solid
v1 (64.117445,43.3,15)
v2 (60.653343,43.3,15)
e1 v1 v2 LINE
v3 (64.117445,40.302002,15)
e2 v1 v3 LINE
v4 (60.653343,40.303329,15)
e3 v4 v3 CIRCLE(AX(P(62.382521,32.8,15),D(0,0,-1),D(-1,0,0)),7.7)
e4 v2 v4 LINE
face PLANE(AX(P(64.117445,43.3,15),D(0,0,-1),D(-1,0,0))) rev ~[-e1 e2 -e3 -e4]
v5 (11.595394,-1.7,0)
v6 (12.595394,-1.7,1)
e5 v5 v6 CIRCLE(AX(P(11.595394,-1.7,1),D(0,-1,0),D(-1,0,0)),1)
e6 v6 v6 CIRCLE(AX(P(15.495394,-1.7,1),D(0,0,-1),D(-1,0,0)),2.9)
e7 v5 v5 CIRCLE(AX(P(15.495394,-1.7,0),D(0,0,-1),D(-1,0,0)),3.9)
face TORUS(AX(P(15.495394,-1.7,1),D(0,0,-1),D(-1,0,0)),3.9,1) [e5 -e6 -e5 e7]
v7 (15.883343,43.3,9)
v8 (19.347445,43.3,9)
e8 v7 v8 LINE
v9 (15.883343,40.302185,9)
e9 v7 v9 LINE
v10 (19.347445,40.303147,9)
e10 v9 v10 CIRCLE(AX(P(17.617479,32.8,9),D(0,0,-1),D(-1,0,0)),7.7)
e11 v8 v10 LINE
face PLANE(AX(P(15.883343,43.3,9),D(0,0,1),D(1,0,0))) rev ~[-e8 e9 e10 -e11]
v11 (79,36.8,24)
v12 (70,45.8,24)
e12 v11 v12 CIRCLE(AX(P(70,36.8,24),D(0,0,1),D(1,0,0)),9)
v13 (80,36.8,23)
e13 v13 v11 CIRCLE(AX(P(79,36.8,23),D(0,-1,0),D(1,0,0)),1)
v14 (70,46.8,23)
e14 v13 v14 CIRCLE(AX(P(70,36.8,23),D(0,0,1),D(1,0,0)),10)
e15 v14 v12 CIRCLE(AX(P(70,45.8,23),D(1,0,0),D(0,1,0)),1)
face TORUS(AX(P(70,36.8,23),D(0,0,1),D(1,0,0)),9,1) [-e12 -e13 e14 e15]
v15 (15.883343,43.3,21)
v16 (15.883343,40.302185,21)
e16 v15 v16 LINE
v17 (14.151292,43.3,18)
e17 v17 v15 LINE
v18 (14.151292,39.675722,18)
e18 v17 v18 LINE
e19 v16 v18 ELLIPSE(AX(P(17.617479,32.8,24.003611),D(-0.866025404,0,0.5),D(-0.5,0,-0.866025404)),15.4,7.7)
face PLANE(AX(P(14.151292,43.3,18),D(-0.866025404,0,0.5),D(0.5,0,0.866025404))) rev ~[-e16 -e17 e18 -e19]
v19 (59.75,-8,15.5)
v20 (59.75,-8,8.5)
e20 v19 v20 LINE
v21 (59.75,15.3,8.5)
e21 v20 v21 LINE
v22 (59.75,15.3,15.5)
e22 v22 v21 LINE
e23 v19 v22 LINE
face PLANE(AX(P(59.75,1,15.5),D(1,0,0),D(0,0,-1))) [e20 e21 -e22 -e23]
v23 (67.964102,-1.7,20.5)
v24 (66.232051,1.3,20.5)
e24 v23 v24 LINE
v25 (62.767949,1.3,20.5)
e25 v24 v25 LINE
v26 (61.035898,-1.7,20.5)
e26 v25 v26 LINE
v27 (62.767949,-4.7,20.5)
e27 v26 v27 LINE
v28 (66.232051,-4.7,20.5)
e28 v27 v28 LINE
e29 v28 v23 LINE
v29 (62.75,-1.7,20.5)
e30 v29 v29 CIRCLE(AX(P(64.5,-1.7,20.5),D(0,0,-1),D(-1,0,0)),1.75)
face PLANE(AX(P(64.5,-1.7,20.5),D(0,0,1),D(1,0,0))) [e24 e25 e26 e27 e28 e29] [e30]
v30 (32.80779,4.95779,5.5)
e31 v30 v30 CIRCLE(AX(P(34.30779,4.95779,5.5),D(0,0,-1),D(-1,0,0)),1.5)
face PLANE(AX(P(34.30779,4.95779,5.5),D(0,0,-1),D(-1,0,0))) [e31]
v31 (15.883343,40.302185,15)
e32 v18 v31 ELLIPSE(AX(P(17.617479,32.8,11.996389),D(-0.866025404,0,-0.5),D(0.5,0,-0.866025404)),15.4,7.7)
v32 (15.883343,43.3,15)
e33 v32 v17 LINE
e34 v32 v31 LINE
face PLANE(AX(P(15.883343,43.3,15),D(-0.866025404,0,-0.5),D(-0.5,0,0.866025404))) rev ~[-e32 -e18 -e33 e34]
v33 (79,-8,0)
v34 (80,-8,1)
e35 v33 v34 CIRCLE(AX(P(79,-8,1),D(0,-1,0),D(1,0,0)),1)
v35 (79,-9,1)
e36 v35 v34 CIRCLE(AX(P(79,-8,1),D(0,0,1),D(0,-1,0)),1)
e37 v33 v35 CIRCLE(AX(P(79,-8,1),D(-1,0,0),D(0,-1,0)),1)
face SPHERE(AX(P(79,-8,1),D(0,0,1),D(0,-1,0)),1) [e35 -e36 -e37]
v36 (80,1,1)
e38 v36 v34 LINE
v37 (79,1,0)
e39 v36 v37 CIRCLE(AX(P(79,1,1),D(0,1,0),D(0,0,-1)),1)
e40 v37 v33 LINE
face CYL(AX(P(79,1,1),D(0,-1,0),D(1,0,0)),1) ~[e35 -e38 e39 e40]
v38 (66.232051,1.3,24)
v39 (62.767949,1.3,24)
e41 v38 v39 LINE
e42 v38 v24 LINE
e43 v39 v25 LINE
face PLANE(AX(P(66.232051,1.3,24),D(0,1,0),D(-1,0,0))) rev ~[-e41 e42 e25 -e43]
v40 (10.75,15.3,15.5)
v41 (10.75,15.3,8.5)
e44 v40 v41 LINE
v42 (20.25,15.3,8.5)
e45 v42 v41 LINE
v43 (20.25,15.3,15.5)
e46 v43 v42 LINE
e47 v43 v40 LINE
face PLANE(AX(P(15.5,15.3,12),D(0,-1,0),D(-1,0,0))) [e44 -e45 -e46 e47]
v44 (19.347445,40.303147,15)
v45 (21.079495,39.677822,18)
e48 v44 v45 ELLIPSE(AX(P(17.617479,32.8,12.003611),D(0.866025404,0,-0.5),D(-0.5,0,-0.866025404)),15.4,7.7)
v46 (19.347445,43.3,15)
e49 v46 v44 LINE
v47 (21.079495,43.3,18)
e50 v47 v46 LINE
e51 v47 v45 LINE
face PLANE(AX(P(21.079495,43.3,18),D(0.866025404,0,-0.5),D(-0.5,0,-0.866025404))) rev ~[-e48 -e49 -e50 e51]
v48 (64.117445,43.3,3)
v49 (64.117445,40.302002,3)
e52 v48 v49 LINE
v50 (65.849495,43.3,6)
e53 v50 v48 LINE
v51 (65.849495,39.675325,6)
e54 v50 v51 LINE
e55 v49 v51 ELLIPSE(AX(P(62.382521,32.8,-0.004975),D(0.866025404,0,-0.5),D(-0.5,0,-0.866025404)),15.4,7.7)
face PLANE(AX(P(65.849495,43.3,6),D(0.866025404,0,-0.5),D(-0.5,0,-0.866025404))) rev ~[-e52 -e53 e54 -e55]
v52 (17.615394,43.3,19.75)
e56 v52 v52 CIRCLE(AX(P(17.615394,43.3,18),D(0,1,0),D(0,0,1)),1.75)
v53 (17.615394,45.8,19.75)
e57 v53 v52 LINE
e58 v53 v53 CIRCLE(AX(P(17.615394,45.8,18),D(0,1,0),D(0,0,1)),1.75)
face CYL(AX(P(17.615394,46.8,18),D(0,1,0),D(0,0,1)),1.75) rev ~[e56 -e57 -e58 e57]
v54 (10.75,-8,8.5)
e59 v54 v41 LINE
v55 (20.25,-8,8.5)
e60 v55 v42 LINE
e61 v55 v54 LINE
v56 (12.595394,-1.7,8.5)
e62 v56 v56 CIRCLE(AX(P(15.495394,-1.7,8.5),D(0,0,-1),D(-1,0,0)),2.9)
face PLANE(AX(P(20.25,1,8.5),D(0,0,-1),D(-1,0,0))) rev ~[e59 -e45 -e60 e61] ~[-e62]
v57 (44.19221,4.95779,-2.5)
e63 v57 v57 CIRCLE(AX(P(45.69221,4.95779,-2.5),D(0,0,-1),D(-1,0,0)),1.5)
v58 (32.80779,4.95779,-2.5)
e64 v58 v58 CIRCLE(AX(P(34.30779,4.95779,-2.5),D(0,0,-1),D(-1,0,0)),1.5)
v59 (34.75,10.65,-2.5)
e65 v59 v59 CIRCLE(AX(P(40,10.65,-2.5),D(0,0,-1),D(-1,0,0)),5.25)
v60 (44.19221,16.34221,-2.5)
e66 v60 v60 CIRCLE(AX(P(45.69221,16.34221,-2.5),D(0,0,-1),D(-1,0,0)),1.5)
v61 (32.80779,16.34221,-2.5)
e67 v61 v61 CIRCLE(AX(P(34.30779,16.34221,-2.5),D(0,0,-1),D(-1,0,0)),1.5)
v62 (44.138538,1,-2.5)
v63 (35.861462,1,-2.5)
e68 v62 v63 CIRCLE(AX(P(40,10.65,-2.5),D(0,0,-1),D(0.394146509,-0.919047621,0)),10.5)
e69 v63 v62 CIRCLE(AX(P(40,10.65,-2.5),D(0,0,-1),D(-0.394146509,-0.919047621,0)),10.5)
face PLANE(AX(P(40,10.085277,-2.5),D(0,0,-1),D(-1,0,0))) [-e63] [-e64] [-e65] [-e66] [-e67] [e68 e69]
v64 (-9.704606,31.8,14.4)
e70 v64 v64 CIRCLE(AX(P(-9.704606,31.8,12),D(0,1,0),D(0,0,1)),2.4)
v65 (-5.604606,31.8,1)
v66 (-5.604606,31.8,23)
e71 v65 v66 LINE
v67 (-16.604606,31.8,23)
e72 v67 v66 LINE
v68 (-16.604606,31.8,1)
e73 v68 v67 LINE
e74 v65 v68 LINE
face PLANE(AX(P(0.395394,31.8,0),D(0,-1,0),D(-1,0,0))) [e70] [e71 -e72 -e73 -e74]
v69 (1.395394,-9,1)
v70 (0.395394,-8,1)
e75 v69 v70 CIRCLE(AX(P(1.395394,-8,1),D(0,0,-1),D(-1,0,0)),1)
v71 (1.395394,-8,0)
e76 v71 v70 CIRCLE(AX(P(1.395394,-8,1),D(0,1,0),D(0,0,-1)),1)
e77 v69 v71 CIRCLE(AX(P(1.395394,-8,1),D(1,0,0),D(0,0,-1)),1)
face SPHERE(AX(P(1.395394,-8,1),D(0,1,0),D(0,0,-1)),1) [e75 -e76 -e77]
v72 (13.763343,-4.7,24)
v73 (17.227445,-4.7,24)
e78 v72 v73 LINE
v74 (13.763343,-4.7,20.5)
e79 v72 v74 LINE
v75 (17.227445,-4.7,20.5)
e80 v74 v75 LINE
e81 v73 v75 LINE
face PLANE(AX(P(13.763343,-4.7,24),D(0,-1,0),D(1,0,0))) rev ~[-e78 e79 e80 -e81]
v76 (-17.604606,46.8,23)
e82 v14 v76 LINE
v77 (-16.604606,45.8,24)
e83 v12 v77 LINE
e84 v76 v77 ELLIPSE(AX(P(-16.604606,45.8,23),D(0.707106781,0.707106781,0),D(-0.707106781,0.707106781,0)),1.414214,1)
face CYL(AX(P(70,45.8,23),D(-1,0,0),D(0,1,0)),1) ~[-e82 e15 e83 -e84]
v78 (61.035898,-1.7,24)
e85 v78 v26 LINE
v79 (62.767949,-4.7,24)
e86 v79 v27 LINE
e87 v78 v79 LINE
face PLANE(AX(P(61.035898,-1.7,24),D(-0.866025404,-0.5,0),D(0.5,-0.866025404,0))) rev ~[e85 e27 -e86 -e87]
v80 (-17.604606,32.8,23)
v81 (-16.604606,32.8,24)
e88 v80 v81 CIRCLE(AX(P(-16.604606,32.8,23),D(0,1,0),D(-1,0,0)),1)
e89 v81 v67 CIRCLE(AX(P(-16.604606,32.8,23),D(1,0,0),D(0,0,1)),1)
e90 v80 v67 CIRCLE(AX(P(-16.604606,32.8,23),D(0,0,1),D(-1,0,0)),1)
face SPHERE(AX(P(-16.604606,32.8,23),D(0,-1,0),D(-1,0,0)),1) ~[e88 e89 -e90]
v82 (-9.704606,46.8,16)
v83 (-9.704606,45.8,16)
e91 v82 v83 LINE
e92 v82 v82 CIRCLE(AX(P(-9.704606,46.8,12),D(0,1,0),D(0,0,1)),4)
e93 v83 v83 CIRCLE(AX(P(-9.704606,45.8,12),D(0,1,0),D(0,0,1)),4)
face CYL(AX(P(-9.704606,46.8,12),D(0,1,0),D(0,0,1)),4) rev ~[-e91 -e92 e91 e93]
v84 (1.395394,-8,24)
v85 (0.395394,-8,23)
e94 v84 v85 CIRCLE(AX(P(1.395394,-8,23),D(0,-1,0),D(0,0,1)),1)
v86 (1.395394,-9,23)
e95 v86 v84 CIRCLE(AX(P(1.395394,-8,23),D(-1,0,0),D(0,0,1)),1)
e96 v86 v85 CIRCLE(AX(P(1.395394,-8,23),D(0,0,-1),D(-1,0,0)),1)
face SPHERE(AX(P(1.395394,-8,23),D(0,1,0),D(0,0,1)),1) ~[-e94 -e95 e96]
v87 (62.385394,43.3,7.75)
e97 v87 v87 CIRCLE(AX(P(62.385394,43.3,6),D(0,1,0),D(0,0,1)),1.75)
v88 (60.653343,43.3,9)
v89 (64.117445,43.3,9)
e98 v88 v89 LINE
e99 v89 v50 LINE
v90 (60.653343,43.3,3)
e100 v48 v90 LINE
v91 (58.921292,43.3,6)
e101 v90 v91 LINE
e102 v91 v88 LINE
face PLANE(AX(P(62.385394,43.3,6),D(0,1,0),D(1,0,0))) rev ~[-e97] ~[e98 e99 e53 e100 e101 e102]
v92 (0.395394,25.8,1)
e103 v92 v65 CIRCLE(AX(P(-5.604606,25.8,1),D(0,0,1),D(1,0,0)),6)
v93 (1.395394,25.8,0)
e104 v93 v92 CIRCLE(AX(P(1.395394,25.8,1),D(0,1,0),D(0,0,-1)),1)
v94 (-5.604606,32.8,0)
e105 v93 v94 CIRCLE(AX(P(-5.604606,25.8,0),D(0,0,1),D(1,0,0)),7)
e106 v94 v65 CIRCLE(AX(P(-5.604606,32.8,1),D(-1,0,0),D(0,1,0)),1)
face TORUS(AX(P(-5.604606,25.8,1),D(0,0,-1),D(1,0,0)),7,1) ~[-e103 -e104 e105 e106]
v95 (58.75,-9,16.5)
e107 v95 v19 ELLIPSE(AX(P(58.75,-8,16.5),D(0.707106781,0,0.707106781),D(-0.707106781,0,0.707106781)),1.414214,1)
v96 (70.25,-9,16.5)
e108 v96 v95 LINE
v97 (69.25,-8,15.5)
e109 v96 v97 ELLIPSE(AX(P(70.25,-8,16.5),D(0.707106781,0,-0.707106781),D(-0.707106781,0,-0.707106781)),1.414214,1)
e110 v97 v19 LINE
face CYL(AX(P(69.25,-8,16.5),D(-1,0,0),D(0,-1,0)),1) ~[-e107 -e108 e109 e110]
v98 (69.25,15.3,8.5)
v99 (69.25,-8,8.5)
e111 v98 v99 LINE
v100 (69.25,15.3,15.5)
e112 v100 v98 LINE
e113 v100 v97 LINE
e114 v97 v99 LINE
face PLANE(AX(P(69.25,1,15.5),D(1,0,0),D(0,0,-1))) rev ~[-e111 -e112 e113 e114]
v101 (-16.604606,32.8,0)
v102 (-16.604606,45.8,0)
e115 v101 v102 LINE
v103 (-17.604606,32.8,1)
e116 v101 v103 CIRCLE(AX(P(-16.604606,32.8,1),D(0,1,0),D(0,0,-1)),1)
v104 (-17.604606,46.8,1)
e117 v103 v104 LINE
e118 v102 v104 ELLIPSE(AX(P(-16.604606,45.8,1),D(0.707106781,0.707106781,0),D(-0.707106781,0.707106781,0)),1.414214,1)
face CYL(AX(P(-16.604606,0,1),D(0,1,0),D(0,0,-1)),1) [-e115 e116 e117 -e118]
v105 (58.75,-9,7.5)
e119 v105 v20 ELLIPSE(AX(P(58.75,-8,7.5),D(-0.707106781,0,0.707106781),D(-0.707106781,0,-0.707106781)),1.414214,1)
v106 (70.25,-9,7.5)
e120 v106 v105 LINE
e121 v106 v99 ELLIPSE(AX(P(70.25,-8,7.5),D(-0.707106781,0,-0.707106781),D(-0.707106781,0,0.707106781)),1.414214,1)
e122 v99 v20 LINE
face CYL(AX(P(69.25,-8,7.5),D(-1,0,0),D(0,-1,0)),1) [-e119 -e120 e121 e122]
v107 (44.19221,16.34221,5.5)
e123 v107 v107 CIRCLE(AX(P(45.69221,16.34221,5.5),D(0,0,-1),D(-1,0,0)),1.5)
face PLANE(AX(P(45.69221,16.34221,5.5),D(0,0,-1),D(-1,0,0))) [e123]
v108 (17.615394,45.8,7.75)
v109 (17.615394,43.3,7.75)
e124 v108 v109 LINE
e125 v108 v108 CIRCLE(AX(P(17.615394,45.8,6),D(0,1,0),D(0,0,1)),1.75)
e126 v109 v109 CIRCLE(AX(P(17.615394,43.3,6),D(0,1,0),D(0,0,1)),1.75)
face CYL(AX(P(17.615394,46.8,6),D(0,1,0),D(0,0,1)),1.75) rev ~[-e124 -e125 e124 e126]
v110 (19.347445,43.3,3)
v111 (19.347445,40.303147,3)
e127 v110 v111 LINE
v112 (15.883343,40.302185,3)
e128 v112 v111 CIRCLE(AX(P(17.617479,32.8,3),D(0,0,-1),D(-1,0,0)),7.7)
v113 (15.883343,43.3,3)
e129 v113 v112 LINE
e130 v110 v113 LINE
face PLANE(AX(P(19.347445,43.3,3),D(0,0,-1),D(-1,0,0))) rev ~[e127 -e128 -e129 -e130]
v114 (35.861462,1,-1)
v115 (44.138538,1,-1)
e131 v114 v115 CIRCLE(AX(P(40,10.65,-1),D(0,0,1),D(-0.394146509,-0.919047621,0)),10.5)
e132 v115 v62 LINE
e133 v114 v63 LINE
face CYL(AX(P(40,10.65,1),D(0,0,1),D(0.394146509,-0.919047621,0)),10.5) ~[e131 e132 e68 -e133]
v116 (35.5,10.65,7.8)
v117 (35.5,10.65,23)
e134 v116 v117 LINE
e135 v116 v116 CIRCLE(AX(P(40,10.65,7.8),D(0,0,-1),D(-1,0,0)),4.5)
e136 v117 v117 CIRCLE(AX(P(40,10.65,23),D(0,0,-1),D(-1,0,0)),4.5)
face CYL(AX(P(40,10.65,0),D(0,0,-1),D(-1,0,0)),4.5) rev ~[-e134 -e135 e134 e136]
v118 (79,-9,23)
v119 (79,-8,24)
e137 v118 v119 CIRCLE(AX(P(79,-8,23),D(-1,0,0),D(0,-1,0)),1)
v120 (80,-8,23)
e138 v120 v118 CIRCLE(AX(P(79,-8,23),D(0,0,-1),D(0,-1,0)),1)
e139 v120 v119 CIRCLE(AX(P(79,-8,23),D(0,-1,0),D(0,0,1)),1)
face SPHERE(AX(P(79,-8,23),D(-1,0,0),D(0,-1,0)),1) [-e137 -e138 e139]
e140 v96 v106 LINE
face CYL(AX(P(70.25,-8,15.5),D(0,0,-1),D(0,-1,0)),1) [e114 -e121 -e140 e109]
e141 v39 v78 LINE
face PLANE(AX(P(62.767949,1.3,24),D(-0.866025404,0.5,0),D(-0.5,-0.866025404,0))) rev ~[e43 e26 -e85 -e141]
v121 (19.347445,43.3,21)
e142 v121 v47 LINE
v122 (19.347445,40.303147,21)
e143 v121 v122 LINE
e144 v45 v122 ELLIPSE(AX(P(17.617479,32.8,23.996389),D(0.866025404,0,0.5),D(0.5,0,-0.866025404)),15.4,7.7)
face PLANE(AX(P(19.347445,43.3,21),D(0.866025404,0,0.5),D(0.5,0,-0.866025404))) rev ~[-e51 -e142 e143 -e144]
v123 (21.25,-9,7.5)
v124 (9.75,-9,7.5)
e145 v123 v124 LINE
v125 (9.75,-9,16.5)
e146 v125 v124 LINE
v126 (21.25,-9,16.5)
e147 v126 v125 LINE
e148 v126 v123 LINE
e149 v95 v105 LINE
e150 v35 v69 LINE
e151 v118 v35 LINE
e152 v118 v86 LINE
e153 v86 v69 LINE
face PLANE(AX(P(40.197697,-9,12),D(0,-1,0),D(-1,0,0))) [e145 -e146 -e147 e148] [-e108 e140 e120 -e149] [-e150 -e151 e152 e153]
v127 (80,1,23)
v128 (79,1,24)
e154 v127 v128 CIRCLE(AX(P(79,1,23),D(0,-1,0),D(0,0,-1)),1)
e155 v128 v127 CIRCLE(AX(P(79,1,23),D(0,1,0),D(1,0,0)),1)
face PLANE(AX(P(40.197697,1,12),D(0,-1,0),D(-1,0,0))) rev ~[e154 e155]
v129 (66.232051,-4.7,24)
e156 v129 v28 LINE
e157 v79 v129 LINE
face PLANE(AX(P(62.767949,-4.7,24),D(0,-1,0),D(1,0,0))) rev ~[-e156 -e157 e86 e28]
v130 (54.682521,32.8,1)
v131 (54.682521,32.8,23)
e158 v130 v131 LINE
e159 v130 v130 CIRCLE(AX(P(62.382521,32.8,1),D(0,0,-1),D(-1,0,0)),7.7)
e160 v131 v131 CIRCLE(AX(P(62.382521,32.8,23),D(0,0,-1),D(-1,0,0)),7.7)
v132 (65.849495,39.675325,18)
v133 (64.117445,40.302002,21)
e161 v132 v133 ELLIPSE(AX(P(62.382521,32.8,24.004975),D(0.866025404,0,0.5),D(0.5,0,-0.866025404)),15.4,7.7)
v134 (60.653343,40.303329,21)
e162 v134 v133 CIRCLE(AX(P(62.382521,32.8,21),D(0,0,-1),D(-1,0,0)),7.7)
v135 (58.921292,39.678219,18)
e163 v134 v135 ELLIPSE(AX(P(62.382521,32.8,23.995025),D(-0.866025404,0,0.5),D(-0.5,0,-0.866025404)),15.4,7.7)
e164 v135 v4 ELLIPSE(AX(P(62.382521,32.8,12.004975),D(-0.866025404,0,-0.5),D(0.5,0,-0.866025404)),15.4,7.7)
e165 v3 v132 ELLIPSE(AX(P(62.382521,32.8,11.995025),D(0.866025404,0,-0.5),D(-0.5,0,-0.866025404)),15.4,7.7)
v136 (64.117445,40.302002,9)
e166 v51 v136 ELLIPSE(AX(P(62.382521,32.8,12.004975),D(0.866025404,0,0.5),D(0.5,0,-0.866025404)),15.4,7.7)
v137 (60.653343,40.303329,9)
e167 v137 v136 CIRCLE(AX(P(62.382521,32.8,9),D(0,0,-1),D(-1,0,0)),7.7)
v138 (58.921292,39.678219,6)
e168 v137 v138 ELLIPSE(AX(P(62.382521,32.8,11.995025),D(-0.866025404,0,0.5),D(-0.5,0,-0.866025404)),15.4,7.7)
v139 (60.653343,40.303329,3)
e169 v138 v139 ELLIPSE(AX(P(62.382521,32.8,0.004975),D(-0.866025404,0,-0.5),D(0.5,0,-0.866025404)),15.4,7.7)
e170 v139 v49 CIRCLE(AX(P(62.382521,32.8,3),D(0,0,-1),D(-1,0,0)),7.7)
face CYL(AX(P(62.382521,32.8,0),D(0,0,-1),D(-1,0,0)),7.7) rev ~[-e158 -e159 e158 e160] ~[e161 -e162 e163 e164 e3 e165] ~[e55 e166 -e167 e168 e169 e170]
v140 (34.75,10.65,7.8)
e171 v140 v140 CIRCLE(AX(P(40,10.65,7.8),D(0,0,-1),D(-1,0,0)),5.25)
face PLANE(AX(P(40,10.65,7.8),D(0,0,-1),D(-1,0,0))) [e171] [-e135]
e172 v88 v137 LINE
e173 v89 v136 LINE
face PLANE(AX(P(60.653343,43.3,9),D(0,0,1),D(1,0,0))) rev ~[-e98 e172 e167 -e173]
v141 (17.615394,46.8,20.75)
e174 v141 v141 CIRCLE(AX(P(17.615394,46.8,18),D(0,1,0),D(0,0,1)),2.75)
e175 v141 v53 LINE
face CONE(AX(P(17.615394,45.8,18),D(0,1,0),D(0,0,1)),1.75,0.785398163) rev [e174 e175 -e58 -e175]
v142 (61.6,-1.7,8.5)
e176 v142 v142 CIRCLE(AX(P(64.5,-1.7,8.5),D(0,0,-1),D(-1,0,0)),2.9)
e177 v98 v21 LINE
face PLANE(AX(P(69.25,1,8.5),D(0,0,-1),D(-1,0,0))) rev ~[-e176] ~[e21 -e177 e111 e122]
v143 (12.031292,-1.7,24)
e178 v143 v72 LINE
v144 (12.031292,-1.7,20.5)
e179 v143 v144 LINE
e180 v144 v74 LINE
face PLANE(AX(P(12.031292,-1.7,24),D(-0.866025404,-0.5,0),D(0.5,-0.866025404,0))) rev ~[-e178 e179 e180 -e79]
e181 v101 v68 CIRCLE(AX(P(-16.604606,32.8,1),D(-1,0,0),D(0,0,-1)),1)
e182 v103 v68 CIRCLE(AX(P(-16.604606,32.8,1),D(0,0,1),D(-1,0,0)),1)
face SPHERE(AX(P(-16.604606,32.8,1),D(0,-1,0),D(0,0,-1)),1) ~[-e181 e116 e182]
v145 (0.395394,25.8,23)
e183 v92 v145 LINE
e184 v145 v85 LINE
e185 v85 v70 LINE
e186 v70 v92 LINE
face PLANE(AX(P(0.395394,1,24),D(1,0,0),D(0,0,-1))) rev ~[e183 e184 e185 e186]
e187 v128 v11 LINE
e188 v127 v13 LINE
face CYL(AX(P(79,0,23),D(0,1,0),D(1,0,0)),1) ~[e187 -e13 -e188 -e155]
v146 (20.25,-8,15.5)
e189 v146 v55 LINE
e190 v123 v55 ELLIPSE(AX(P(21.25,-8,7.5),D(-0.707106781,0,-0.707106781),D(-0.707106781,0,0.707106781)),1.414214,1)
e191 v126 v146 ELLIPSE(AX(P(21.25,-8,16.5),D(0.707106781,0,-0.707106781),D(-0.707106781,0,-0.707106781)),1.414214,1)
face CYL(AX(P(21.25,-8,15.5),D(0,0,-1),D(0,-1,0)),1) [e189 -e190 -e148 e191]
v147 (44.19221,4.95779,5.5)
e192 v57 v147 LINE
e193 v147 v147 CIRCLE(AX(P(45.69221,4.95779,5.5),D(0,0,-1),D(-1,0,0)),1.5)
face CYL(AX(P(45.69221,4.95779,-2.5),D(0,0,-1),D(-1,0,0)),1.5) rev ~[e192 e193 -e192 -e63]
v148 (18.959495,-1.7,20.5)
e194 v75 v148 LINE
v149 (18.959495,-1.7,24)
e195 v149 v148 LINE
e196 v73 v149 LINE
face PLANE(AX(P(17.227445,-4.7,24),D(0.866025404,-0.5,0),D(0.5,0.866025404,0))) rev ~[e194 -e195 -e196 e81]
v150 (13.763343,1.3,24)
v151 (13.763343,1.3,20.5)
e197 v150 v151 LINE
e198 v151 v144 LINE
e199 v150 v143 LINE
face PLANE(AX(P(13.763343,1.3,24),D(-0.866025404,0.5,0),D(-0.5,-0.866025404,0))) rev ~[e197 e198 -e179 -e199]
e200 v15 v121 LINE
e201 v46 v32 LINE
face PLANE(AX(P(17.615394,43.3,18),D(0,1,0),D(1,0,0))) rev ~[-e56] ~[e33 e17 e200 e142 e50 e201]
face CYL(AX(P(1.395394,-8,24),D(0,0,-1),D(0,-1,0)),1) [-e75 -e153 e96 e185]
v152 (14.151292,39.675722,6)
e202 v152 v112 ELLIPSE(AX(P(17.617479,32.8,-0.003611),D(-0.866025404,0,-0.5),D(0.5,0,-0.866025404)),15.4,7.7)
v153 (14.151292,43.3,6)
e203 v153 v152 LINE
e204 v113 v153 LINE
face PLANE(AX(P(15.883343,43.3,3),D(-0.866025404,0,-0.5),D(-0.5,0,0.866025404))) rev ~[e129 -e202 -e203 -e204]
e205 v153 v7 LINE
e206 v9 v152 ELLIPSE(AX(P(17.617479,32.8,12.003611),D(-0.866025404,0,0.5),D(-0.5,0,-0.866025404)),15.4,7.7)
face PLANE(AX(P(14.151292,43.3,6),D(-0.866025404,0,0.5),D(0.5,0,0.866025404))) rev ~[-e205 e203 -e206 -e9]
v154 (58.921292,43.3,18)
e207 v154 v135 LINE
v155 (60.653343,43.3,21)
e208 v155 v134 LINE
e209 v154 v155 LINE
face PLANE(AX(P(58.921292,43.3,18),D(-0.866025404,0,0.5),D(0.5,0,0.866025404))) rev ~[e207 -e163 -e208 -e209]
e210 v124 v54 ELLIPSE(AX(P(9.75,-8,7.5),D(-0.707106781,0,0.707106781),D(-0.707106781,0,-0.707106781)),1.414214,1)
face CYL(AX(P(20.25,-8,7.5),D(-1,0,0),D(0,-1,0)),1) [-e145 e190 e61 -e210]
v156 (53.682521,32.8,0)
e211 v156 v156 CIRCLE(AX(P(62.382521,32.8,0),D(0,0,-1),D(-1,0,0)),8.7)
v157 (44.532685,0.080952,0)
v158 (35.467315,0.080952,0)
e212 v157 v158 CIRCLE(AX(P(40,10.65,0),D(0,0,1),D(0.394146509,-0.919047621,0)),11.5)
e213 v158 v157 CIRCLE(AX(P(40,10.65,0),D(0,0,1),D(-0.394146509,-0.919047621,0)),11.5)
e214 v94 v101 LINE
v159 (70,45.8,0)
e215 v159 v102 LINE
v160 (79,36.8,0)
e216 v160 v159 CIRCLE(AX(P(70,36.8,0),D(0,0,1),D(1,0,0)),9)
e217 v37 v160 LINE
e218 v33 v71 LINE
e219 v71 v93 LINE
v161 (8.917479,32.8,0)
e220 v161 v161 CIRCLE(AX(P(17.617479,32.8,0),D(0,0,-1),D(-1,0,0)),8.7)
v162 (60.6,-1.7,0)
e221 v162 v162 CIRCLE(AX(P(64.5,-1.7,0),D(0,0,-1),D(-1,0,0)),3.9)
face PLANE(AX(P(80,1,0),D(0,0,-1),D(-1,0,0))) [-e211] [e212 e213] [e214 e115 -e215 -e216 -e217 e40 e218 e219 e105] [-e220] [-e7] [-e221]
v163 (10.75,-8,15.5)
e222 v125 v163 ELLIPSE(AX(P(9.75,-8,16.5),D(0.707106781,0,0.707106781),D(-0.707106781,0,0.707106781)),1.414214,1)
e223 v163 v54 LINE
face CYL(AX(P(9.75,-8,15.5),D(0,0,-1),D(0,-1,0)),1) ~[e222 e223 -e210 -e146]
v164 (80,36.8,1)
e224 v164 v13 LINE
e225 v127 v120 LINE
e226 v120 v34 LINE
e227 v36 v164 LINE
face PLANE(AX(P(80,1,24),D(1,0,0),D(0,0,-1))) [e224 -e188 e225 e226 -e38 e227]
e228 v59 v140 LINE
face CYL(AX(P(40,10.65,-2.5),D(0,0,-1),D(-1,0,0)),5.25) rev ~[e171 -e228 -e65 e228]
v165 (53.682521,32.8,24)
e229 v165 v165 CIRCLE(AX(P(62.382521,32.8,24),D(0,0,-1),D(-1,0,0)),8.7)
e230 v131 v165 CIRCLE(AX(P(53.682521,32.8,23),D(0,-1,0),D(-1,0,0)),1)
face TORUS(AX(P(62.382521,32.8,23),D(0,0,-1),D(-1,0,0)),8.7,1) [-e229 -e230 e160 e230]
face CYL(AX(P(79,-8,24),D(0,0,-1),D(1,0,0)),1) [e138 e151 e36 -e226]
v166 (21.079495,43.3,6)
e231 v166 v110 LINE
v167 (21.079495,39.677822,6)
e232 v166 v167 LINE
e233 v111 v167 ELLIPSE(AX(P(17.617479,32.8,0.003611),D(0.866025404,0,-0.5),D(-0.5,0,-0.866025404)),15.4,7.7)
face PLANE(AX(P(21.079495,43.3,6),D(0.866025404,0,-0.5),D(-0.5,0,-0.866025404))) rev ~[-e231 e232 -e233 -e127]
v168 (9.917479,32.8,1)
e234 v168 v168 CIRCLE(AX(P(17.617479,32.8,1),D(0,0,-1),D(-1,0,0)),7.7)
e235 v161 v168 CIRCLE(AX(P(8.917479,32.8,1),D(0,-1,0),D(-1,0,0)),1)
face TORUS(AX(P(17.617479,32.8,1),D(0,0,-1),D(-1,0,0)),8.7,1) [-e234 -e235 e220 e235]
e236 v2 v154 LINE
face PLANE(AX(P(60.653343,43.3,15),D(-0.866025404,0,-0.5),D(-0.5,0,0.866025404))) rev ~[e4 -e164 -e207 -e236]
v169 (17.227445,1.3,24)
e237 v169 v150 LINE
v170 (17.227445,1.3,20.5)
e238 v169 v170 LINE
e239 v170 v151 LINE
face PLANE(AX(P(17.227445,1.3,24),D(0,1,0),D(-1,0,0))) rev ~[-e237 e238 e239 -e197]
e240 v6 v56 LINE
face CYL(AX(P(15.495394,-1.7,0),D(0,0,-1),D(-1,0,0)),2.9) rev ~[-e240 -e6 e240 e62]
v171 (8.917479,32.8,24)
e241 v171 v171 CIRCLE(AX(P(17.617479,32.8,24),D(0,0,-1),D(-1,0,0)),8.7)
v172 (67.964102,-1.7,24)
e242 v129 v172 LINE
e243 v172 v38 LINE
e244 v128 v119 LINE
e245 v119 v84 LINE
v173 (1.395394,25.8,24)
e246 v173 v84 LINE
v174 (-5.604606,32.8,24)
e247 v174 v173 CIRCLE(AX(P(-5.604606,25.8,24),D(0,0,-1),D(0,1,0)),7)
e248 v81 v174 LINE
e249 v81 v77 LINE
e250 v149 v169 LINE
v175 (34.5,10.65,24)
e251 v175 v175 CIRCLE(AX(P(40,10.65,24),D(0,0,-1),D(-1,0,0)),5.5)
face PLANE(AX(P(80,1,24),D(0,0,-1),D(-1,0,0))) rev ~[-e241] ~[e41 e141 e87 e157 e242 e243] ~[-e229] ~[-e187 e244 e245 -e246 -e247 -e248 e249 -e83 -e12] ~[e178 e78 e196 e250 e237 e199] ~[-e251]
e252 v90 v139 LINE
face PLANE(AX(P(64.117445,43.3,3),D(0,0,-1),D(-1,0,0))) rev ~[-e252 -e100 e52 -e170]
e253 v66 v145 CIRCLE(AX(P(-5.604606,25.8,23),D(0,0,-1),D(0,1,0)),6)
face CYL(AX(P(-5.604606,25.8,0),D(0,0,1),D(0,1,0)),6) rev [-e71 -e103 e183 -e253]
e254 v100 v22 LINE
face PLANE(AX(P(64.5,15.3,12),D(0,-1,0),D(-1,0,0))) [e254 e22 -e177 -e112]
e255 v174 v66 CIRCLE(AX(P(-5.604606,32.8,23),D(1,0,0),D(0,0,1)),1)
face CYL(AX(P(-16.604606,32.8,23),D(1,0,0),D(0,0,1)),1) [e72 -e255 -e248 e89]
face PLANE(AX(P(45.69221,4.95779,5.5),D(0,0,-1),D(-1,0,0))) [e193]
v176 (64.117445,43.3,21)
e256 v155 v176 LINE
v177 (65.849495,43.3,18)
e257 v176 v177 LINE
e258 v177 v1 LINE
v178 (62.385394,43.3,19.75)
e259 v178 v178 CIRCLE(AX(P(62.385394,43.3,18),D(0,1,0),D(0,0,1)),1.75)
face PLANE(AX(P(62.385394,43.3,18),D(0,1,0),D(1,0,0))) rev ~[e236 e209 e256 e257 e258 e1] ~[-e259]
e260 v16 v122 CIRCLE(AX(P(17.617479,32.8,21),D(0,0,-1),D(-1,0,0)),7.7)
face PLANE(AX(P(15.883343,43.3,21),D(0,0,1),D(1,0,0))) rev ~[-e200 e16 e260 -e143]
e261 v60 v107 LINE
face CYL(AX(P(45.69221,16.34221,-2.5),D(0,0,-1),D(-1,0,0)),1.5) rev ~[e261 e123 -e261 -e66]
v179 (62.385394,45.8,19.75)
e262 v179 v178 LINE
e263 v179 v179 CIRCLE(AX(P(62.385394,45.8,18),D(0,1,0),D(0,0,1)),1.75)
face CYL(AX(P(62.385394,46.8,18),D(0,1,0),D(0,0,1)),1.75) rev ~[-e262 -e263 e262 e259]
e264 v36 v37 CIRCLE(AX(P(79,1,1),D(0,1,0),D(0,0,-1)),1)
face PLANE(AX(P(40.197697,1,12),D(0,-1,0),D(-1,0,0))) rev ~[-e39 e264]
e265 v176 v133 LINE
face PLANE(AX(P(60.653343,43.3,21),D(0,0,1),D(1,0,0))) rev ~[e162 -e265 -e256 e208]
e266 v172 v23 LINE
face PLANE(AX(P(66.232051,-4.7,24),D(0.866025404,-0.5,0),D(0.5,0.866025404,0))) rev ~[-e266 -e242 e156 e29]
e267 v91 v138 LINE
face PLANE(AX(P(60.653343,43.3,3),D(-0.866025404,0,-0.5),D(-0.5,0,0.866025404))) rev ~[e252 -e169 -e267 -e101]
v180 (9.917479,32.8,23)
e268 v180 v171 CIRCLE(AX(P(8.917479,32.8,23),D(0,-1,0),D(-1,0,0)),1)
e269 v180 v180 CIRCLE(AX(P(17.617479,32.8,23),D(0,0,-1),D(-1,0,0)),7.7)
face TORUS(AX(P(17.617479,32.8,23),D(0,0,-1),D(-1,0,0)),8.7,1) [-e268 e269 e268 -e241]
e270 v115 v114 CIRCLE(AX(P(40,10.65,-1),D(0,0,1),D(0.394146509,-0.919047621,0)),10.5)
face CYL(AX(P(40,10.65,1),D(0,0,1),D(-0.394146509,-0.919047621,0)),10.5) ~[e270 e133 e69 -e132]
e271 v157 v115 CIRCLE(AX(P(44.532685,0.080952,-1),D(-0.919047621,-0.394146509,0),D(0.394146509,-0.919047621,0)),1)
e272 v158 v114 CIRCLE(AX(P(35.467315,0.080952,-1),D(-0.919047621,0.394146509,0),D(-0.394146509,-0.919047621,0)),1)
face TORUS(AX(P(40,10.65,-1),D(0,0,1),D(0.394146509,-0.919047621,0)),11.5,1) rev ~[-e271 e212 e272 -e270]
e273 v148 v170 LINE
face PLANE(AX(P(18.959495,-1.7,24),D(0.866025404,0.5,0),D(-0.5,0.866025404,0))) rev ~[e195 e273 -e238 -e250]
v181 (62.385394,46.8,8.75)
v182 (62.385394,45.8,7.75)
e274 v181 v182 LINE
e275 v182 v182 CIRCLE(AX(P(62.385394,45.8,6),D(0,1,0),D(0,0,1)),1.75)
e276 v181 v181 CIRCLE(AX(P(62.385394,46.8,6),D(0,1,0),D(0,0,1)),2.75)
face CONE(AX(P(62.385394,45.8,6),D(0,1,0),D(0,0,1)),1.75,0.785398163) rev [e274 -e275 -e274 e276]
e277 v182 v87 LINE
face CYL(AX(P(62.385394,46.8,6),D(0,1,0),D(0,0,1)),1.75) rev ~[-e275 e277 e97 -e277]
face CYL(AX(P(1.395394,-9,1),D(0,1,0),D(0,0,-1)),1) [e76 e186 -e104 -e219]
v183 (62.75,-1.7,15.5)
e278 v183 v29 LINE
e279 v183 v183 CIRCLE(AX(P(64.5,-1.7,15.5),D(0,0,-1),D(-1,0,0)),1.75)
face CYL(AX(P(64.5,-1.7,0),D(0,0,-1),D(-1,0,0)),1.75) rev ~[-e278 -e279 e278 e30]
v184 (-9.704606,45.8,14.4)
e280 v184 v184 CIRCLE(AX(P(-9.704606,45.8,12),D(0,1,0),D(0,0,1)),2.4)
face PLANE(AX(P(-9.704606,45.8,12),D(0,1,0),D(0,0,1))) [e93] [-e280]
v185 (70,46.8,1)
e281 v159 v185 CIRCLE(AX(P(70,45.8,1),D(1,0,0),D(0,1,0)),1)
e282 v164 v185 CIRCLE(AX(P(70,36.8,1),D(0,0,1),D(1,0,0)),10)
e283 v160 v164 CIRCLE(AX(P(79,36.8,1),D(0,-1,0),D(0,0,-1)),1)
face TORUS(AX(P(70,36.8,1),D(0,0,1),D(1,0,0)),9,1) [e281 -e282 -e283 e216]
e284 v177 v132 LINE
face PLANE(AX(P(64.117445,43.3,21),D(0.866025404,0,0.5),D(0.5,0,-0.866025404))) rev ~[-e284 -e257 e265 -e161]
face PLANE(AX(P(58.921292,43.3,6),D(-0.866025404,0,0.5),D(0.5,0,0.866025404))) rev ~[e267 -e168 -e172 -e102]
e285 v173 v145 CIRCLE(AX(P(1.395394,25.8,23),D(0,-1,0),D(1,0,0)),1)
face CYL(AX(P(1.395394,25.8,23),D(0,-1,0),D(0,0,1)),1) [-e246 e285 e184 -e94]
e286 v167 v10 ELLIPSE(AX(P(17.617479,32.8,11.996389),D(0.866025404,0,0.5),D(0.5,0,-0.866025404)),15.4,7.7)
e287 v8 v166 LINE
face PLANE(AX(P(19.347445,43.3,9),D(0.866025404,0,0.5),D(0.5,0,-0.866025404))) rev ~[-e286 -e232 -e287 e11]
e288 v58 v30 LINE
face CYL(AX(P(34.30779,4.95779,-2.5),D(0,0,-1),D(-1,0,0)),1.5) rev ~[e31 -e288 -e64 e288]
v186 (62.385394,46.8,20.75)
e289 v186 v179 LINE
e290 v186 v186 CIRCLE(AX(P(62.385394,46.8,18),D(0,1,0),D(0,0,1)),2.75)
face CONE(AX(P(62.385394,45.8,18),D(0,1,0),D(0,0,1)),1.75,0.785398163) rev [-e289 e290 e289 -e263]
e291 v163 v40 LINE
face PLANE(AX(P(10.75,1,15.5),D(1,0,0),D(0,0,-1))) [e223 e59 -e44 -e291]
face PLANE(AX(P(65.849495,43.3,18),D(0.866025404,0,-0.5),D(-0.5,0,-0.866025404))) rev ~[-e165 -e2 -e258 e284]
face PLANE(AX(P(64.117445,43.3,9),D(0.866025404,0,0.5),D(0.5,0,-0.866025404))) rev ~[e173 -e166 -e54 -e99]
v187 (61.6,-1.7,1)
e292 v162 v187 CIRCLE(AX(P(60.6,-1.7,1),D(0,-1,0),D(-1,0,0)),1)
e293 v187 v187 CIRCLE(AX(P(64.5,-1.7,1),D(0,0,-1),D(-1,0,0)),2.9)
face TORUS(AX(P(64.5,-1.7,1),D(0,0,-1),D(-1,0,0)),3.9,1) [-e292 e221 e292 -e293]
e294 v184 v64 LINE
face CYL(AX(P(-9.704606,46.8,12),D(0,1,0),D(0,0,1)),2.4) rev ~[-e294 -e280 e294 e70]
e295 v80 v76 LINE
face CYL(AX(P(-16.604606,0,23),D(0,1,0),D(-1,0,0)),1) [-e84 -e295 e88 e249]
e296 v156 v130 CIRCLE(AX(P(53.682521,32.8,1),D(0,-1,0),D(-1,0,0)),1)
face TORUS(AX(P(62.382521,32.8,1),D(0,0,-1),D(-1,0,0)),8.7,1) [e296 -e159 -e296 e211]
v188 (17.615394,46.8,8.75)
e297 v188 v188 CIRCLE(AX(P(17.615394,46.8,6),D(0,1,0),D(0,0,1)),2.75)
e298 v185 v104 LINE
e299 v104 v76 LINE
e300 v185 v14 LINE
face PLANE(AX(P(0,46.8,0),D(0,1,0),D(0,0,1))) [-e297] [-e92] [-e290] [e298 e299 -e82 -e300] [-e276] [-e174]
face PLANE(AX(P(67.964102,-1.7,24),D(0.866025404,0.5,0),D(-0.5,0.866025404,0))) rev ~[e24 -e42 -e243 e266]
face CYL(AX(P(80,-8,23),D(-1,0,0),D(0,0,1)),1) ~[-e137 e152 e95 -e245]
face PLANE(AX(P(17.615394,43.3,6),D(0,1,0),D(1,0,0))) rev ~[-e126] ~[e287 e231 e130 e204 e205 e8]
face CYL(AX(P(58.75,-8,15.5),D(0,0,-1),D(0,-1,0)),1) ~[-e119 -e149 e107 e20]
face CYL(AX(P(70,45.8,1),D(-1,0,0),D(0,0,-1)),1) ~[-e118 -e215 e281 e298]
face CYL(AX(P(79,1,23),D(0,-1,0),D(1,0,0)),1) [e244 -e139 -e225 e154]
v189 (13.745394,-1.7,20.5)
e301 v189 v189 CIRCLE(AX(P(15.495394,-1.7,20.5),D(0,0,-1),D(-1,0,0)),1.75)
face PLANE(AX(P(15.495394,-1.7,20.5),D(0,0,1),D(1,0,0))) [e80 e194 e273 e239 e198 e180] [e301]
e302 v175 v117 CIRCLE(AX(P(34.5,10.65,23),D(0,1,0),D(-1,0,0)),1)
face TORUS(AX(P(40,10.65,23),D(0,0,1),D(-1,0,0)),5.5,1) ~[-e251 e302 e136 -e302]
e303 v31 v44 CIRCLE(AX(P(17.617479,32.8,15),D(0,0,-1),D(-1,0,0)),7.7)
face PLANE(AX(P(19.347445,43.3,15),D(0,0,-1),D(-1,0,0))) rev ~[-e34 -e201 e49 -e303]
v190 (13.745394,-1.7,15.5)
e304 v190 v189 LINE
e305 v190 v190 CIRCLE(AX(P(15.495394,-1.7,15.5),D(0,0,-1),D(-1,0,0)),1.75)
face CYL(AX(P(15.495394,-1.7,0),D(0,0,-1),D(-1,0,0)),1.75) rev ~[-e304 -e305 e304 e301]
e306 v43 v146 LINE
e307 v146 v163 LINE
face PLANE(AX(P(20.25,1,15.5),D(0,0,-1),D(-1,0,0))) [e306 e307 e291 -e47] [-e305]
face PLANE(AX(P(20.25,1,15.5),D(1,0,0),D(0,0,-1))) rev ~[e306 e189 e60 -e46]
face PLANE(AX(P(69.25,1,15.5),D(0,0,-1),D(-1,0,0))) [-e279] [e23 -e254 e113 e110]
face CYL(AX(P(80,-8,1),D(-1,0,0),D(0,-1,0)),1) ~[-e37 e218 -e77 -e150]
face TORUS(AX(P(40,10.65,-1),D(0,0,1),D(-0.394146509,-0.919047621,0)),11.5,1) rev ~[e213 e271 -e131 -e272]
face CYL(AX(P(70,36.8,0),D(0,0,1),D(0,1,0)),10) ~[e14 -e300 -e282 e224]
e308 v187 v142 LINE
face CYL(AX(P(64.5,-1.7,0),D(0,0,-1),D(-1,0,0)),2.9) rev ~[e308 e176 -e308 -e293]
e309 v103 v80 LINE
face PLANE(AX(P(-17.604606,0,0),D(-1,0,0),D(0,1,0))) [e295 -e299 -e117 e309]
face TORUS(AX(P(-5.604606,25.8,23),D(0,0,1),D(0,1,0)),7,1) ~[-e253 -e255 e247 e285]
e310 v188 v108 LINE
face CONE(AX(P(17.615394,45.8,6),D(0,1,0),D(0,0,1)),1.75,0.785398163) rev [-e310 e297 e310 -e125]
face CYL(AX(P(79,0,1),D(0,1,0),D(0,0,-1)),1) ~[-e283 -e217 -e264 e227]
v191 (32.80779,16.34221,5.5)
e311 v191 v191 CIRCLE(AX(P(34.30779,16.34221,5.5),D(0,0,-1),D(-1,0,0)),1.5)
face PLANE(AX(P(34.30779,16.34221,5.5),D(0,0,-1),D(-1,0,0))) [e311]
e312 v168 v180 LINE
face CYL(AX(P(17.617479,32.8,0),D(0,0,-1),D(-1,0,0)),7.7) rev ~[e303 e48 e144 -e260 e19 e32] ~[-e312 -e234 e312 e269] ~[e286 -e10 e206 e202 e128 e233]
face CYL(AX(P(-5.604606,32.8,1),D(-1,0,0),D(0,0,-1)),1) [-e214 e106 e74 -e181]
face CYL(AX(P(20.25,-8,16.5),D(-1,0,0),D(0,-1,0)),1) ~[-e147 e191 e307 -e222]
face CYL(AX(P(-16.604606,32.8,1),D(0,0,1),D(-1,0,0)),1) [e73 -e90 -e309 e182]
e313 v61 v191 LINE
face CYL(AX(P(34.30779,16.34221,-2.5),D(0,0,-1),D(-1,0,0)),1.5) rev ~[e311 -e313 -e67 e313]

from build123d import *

# Parameters (mm, degrees)
CROQUIS1_W               = 80
CROQUIS1_H               = 46.8
SALIENTE_EXTRUIR1_DEPTH  = 24
CROQUIS2_R               = 7.7
CORTAR_EXTRUIR1_DEPTH    = 96.740482556
CROQUIS3_W               = 9.5
CROQUIS3_H               = 7
CORTAR_EXTRUIR2_DEPTH    = 15.3
CORTAR_EXTRUIR3_DEPTH    = 6
CROQUIS5_R               = 4.5
CORTAR_EXTRUIR4_DEPTH    = 95.415253005
CROQUIS6_W               = 24
CROQUIS6_H               = 46.8
SALIENTE_EXTRUIR2_DEPTH  = 32.604606
CHAFL_N1_SIZE            = 15
CHAFL_N1_SIZE2           = 31
REDONDEO3_R              = 10
CROQUIS13_W              = 17.316285927
CROQUIS13_H              = 46.8
CORTAR_EXTRUIR7_DEPTH    = 51
REDONDEO7_R              = 1
BOSS_EXTRUDE1_START      = 6
SKETCH1_R                = 4.5
BOSS_EXTRUDE1_DEPTH      = 6
BOSS_EXTRUDE2_DEPTH      = 2.5
BOSS_EXTRUDE2_DEPTH_BACK = 1
SKETCH2_R                = 4.5
SKETCH4_R                = 5.25
SKETCH4_R_2              = 4.5
CUT_EXTRUDE1_DEPTH       = 10.3
SKETCH6_R                = 1.75
CUT_EXTRUDE3_DEPTH       = 10
CUT_EXTRUDE4_START       = -3.5
SKETCH6_3_R              = 1.75
CUT_EXTRUDE4_DEPTH       = 10
SKETCH7_W                = 21
SKETCH7_H                = 35
CUT_EXTRUDE5_DEPTH       = 96.740482639
SKETCH8_R                = 2.4
CUT_EXTRUDE6_DEPTH       = 96.740482688
SKETCH8_3_R              = 4
SKETCH8_3_R_2            = 2.4
CUT_EXTRUDE7_DEPTH       = 1
FILLET2_R                = 6
SKETCH5_R                = 1.5
CORTAR_EXTRUIR14_DEPTH   = 8
CHAFL_N2_SIZE            = 1
CROQUIS18_W              = 79.60460618
CROQUIS18_H              = 24
CROQUIS18_W_2            = 9.5
CROQUIS18_H_2            = 7
SALIENTE_EXTRUIR3_DEPTH  = 10
CROQUIS19_R              = 2.9
CORTAR_EXTRUIR15_DEPTH   = 10
CROQUIS20_R              = 1.75
CORTAR_EXTRUIR16_DEPTH   = 30
CORTAR_EXTRUIR17_DEPTH   = 3.5
REDONDEO10_R             = 1


with BuildPart() as part:
    # Croquis1 → Saliente-Extruir1 (new body)
    with BuildSketch(Plane.XY):
        with Locations((40, 23.4)):
            Rectangle(CROQUIS1_W, CROQUIS1_H)
    extrude(amount=SALIENTE_EXTRUIR1_DEPTH)

    # Croquis2 → Cortar-Extruir1 (cut, through all)
    with BuildSketch(Plane(origin=(0, 0, 0), x_dir=(-1, 0, 0), z_dir=(0, 0, -1))):
        with Locations((-17.617478636, 32.8)):
            Circle(CROQUIS2_R)
        with Locations((-62.382521364, 32.8)):
            Circle(CROQUIS2_R)
    extrude(amount=-CORTAR_EXTRUIR1_DEPTH, mode=Mode.SUBTRACT)

    # Croquis3 → Cortar-Extruir2 (cut)
    with BuildSketch(Plane(origin=(0, 0, 0), x_dir=(-1, 0, 0), z_dir=(0, -1, 0))):
        with Locations((-64.5, -12)):
            Rectangle(CROQUIS3_W, CROQUIS3_H)
        with Locations((-15.5, -12)):
            Rectangle(CROQUIS3_W, CROQUIS3_H)
    extrude(amount=-CORTAR_EXTRUIR2_DEPTH, mode=Mode.SUBTRACT)

    # Croquis4 → Cortar-Extruir3 (cut)
    with BuildSketch(Plane(origin=(0, 0, 0), x_dir=(-1, 0, 0), z_dir=(0, 0, -1))):
        Polygon((-43.839379291, 17.30000002), (-47.678758581, 10.65000002), (-43.839379291, 4.00000002), (-36.160620711, 4.00000002), (-32.321241421, 10.65000002), (-36.160620711, 17.30000002), align=None)
    extrude(amount=-CORTAR_EXTRUIR3_DEPTH, mode=Mode.SUBTRACT)

    # Croquis5 → Cortar-Extruir4 (cut, through all)
    with BuildSketch(Plane(origin=(0, 0, 6), x_dir=(-1, 0, 0), z_dir=(0, 0, -1))):
        with Locations((-40.000000001, 10.65000002)):
            Circle(CROQUIS5_R)
    extrude(amount=-CORTAR_EXTRUIR4_DEPTH, mode=Mode.SUBTRACT)

    # Croquis6 → Saliente-Extruir2 (add)
    with BuildSketch(Plane.ZY):
        with Locations((12, 23.4)):
            Rectangle(CROQUIS6_W, CROQUIS6_H)
    extrude(amount=SALIENTE_EXTRUIR2_DEPTH)

    # Chaflán1
    chafl_n1_edges = [part.edges().sort_by_distance(p)[0] for p in [
        (-32.604606, 0, 12),
    ]]
    chafl_n1_side = [part.faces().sort_by_distance(p)[0] for p in [
        (22.853876256, 0, 12),
    ]]
    chamfer(chafl_n1_edges, length=CHAFL_N1_SIZE, length2=CHAFL_N1_SIZE2, reference=chafl_n1_side[0])

    # Redondeo3
    redondeo3_edges = [part.edges().sort_by_distance(p)[0] for p in [
        (-32.604606, 46.8, 12),
        (80, 46.8, 12),
    ]]
    fillet(redondeo3_edges, radius=REDONDEO3_R)

    # Croquis13 → Cortar-Extruir7 (cut)
    with BuildSketch(Plane(origin=(0, 0, 0), x_dir=(-1, 0, 0), z_dir=(0, 0, -1))):
        with Locations((26.262749144, 23.4)):
            Rectangle(CROQUIS13_W, CROQUIS13_H)
    extrude(amount=-CORTAR_EXTRUIR7_DEPTH, mode=Mode.SUBTRACT)

    # Redondeo7
    redondeo7_edges = [part.edges().sort_by_distance(p)[0] for p in [
        (80, 18.4, 24),
        (-17.60460618, 23.4, 24),
        (-17.60460618, 23.4, 0),
        (25.317478636, 32.8, 24),
        (25.317478636, 32.8, 0),
        (70.082521364, 32.8, 24),
        (70.082521364, 32.8, 0),
        (80, 18.4, 0),
        (40.000000001, 17.30000002, 0),
        (45.759068936, 13.97500002, 0),
        (45.759068936, 7.32500002, 0),
        (40.000000001, 4.00000002, 0),
        (34.240931066, 7.32500002, 0),
        (34.240931066, 13.97500002, 0),
        (44.500000001, 10.65000002, 24),
        (31.197697, 0, 24),
        (31.197697, 0, 0),
        (26.19769691, 46.8, 0),
        (77.071067812, 43.871067812, 0),
        (26.19769691, 46.8, 24),
        (77.071067812, 43.871067812, 24),
    ]]
    fillet(redondeo7_edges, radius=REDONDEO7_R)

    # Sketch1 → Boss-Extrude1 (add)
    with BuildSketch(Plane(origin=(0, 0, 6), x_dir=(-1, 0, 0), z_dir=(0, 0, -1)).offset(BOSS_EXTRUDE1_START)):
        Polygon((-44.41672956, 18.30000002), (-48.83345912, 10.65000002), (-44.41672956, 3.00000002), (-35.583270442, 3.00000002), (-31.166540882, 10.65000002), (-35.583270442, 18.30000002), align=None)
        with Locations((-40.000000001, 10.65000002)):
            Circle(SKETCH1_R, mode=Mode.SUBTRACT)
    extrude(amount=-BOSS_EXTRUDE1_DEPTH)

    # Sketch2 → Boss-Extrude2 (add, two sides: drawn at the far end of the back side and taken through both)
    with BuildSketch(Plane(origin=(0, 0, 0), x_dir=(-1, 0, 0), z_dir=(0, 0, -1)).offset(-BOSS_EXTRUDE2_DEPTH_BACK)):
        with BuildLine():
            ThreePointArc((-35.861461658, 1), (-40.000000001, 21.15000002), (-44.138538344, 1))
            ThreePointArc((-44.138538344, 1), (-40.000000001, 0.15000002), (-35.861461658, 1))
        make_face()
        with Locations((-40.000000001, 10.65000002)):
            Circle(SKETCH2_R, mode=Mode.SUBTRACT)
    extrude(amount=BOSS_EXTRUDE2_DEPTH + BOSS_EXTRUDE2_DEPTH_BACK)

    # Sketch4 → Cut-Extrude1 (cut)
    with BuildSketch(Plane(origin=(0, 0, -2.5), x_dir=(-1, 0, 0), z_dir=(0, 0, -1))):
        with Locations((-40.000000001, 10.65000002)):
            Circle(SKETCH4_R)
        with Locations((-40.000000001, 10.65000002)):
            Circle(SKETCH4_R_2, mode=Mode.SUBTRACT)
    extrude(amount=-CUT_EXTRUDE1_DEPTH, mode=Mode.SUBTRACT)

    # Sketch6 → Cut-Extrude3 (cut)
    with BuildSketch(Plane(origin=(0, 46.8, 0), x_dir=(1, 0, 0), z_dir=(0, 1, 0))):
        with Locations(Location((17.61539382, -6, 0), (0, 0, 270))):
            Circle(SKETCH6_R)
        with Locations(Location((17.61539382, -18, 0), (0, 0, 270))):
            Circle(SKETCH6_R)
        with Locations(Location((62.38539382, -18, 0), (0, 0, 270))):
            Circle(SKETCH6_R)
        with Locations(Location((62.38539382, -6, 0), (0, 0, 270))):
            Circle(SKETCH6_R)
    extrude(amount=-CUT_EXTRUDE3_DEPTH, mode=Mode.SUBTRACT)

    # Sketch6<3> → Cut-Extrude4 (cut)
    # profile 1 of 8: a face of its own
    with BuildSketch(Plane(origin=(0, 46.8, 0), x_dir=(1, 0, 0), z_dir=(0, 1, 0)).offset(CUT_EXTRUDE4_START)):
        Polygon((14.151292205, -6), (15.883343012, -9), (19.347444627, -9), (21.079495435, -6), (19.347444627, -3), (15.883343012, -3), align=None)
        with Locations(Location((17.61539382, -6, 0), (0, 0, 270))):
            Circle(SKETCH6_3_R, mode=Mode.SUBTRACT)
    # profile 2 of 8: a face of its own
    with BuildSketch(Plane(origin=(0, 46.8, 0), x_dir=(1, 0, 0), z_dir=(0, 1, 0)).offset(CUT_EXTRUDE4_START)):
        with Locations(Location((17.61539382, -6, 0), (0, 0, 270))):
            Circle(SKETCH6_3_R)
    # profile 3 of 8: a face of its own
    with BuildSketch(Plane(origin=(0, 46.8, 0), x_dir=(1, 0, 0), z_dir=(0, 1, 0)).offset(CUT_EXTRUDE4_START)):
        Polygon((14.151292205, -18), (15.883343012, -21), (19.347444627, -21), (21.079495435, -18), (19.347444627, -15), (15.883343012, -15), align=None)
        with Locations(Location((17.61539382, -18, 0), (0, 0, 270))):
            Circle(SKETCH6_3_R, mode=Mode.SUBTRACT)
    # profile 4 of 8: a face of its own
    with BuildSketch(Plane(origin=(0, 46.8, 0), x_dir=(1, 0, 0), z_dir=(0, 1, 0)).offset(CUT_EXTRUDE4_START)):
        with Locations(Location((17.61539382, -18, 0), (0, 0, 270))):
            Circle(SKETCH6_3_R)
    # profile 5 of 8: a face of its own
    with BuildSketch(Plane(origin=(0, 46.8, 0), x_dir=(1, 0, 0), z_dir=(0, 1, 0)).offset(CUT_EXTRUDE4_START)):
        Polygon((58.921292205, -6), (60.653343012, -9), (64.117444627, -9), (65.849495435, -6), (64.117444627, -3), (60.653343012, -3), align=None)
        with Locations(Location((62.38539382, -6, 0), (0, 0, 270))):
            Circle(SKETCH6_3_R, mode=Mode.SUBTRACT)
    # profile 6 of 8: a face of its own
    with BuildSketch(Plane(origin=(0, 46.8, 0), x_dir=(1, 0, 0), z_dir=(0, 1, 0)).offset(CUT_EXTRUDE4_START)):
        with Locations(Location((62.38539382, -6, 0), (0, 0, 270))):
            Circle(SKETCH6_3_R)
    # profile 7 of 8: a face of its own
    with BuildSketch(Plane(origin=(0, 46.8, 0), x_dir=(1, 0, 0), z_dir=(0, 1, 0)).offset(CUT_EXTRUDE4_START)):
        Polygon((58.921292205, -18), (60.653343012, -21), (64.117444627, -21), (65.849495435, -18), (64.117444627, -15), (60.653343012, -15), align=None)
        with Locations(Location((62.38539382, -18, 0), (0, 0, 270))):
            Circle(SKETCH6_3_R, mode=Mode.SUBTRACT)
    # profile 8 of 8: a face of its own
    with BuildSketch(Plane(origin=(0, 46.8, 0), x_dir=(1, 0, 0), z_dir=(0, 1, 0)).offset(CUT_EXTRUDE4_START)):
        with Locations(Location((62.38539382, -18, 0), (0, 0, 270))):
            Circle(SKETCH6_3_R)
    extrude(amount=-CUT_EXTRUDE4_DEPTH, mode=Mode.SUBTRACT)

    # Sketch7 → Cut-Extrude5 (cut, through all)
    with BuildSketch(Plane(origin=(0, 0, 0), x_dir=(-1, 0, 0), z_dir=(0, 0, -1))):
        with Locations((10.10460618, 14.3)):
            Rectangle(SKETCH7_W, SKETCH7_H)
    extrude(amount=-CUT_EXTRUDE5_DEPTH, mode=Mode.SUBTRACT)

    # Sketch8 → Cut-Extrude6 (cut, through all)
    with BuildSketch(Plane(origin=(0, 46.8, 0), x_dir=(1, 0, 0), z_dir=(0, 1, 0))):
        with Locations(Location((-9.70460618, -12, 0), (0, 0, 270))):
            Circle(SKETCH8_R)
    extrude(amount=-CUT_EXTRUDE6_DEPTH, mode=Mode.SUBTRACT)

    # Sketch8<3> → Cut-Extrude7 (cut)
    with BuildSketch(Plane(origin=(0, 46.8, 0), x_dir=(1, 0, 0), z_dir=(0, 1, 0))):
        with Locations(Location((-9.70460618, -12, 0), (0, 0, 270))):
            Circle(SKETCH8_3_R)
        with Locations(Location((-9.70460618, -12, 0), (0, 0, 270))):
            Circle(SKETCH8_3_R_2, mode=Mode.SUBTRACT)
    extrude(amount=-CUT_EXTRUDE7_DEPTH, mode=Mode.SUBTRACT)

    # Fillet2
    fillet2_edges = [part.edges().sort_by_distance(p)[0] for p in [
        (0.39539382, 31.8, 12),
    ]]
    fillet(fillet2_edges, radius=FILLET2_R)

    # Sketch5 → Cortar-Extruir14 (cut)
    with BuildSketch(Plane(origin=(0, 0, -2.5), x_dir=(-1, 0, 0), z_dir=(0, 0, -1))):
        with Locations((-34.307790413, 16.342209609)):
            Circle(SKETCH5_R)
        with Locations((-34.307790413, 4.957790431)):
            Circle(SKETCH5_R)
        with Locations((-45.69220959, 4.957790431)):
            Circle(SKETCH5_R)
        with Locations((-45.69220959, 16.342209609)):
            Circle(SKETCH5_R)
    extrude(amount=-CORTAR_EXTRUIR14_DEPTH, mode=Mode.SUBTRACT)

    # Chaflán2
    chafl_n2_edges = [part.edges().sort_by_distance(p)[0] for p in [
        (17.61539382, 46.8, 4.25),
        (17.61539382, 46.8, 16.25),
        (62.38539382, 46.8, 16.25),
        (62.38539382, 46.8, 4.25),
    ]]
    chamfer(chafl_n2_edges, length=CHAFL_N2_SIZE)

    # Croquis18 → Saliente-Extruir3 (add)
    with BuildSketch(Plane(origin=(0, 1, 0), x_dir=(-1, 0, 0), z_dir=(0, -1, 0))):
        with Locations((-40.19769691, -12)):
            Rectangle(CROQUIS18_W, CROQUIS18_H)
        with Locations((-64.5, -12)):
            Rectangle(CROQUIS18_W_2, CROQUIS18_H_2, mode=Mode.SUBTRACT)
        with Locations((-15.5, -12)):
            Rectangle(CROQUIS18_W_2, CROQUIS18_H_2, mode=Mode.SUBTRACT)
    extrude(amount=SALIENTE_EXTRUIR3_DEPTH)

    # Croquis19 → Cortar-Extruir15 (cut)
    with BuildSketch(Plane(origin=(0, 0, 0), x_dir=(-1, 0, 0), z_dir=(0, 0, -1))):
        with Locations((-64.5, -1.7)):
            Circle(CROQUIS19_R)
        with Locations((-15.49539382, -1.7)):
            Circle(CROQUIS19_R)
    extrude(amount=-CORTAR_EXTRUIR15_DEPTH, mode=Mode.SUBTRACT)

    # Croquis20 → Cortar-Extruir16 (cut)
    with BuildSketch(Plane(origin=(0, 0, 0), x_dir=(-1, 0, 0), z_dir=(0, 0, -1))):
        with Locations((-64.5, -1.7)):
            Circle(CROQUIS20_R)
        with Locations((-15.49539382, -1.7)):
            Circle(CROQUIS20_R)
    extrude(amount=-CORTAR_EXTRUIR16_DEPTH, mode=Mode.SUBTRACT)

    # Croquis21 → Cortar-Extruir17 (cut)
    with BuildSketch(Plane.XY.offset(24)):
        Polygon((18.959495435, -1.7), (17.227444627, 1.3), (13.763343012, 1.3), (12.031292205, -1.7), (13.763343012, -4.7), (17.227444627, -4.7), align=None)
        Polygon((67.964101615, -1.7), (66.232050808, 1.3), (62.767949192, 1.3), (61.035898385, -1.7), (62.767949192, -4.7), (66.232050808, -4.7), align=None)
    extrude(amount=-CORTAR_EXTRUIR17_DEPTH, mode=Mode.SUBTRACT)

    # Redondeo10
    redondeo10_edges = [part.edges().sort_by_distance(p)[0] for p in [
        (0.39539382, 8.4, 24),
        (-1.361965493, 30.042640687, 24),
        (-11.10460618, 31.8, 24),
        (-17.311712961, 31.8, 23.707106781),
        (-17.60460618, 31.8, 12),
        (-17.311712961, 31.8, 0.292893219),
        (-11.10460618, 31.8, 0),
        (-1.361965493, 30.042640687, 0),
        (40.19769691, -9, 24),
        (80, -9, 12),
        (40.19769691, -9, 0),
        (0.39539382, -9, 12),
        (35.861461658, 20.30000004, 0),
        (0.39539382, 8.4, 0),
        (80, -4, 24),
        (80, -4, 0),
        (18.39539382, -1.7, 0),
        (67.4, -1.7, 0),
        (15.5, -9, 15.5),
        (10.75, -9, 12),
        (15.5, -9, 8.5),
        (20.25, -9, 12),
        (64.5, -9, 15.5),
        (59.75, -9, 12),
        (64.5, -9, 8.5),
        (69.25, -9, 12),
    ]]
    fillet(redondeo10_edges, radius=REDONDEO10_R)


solid = part.part
